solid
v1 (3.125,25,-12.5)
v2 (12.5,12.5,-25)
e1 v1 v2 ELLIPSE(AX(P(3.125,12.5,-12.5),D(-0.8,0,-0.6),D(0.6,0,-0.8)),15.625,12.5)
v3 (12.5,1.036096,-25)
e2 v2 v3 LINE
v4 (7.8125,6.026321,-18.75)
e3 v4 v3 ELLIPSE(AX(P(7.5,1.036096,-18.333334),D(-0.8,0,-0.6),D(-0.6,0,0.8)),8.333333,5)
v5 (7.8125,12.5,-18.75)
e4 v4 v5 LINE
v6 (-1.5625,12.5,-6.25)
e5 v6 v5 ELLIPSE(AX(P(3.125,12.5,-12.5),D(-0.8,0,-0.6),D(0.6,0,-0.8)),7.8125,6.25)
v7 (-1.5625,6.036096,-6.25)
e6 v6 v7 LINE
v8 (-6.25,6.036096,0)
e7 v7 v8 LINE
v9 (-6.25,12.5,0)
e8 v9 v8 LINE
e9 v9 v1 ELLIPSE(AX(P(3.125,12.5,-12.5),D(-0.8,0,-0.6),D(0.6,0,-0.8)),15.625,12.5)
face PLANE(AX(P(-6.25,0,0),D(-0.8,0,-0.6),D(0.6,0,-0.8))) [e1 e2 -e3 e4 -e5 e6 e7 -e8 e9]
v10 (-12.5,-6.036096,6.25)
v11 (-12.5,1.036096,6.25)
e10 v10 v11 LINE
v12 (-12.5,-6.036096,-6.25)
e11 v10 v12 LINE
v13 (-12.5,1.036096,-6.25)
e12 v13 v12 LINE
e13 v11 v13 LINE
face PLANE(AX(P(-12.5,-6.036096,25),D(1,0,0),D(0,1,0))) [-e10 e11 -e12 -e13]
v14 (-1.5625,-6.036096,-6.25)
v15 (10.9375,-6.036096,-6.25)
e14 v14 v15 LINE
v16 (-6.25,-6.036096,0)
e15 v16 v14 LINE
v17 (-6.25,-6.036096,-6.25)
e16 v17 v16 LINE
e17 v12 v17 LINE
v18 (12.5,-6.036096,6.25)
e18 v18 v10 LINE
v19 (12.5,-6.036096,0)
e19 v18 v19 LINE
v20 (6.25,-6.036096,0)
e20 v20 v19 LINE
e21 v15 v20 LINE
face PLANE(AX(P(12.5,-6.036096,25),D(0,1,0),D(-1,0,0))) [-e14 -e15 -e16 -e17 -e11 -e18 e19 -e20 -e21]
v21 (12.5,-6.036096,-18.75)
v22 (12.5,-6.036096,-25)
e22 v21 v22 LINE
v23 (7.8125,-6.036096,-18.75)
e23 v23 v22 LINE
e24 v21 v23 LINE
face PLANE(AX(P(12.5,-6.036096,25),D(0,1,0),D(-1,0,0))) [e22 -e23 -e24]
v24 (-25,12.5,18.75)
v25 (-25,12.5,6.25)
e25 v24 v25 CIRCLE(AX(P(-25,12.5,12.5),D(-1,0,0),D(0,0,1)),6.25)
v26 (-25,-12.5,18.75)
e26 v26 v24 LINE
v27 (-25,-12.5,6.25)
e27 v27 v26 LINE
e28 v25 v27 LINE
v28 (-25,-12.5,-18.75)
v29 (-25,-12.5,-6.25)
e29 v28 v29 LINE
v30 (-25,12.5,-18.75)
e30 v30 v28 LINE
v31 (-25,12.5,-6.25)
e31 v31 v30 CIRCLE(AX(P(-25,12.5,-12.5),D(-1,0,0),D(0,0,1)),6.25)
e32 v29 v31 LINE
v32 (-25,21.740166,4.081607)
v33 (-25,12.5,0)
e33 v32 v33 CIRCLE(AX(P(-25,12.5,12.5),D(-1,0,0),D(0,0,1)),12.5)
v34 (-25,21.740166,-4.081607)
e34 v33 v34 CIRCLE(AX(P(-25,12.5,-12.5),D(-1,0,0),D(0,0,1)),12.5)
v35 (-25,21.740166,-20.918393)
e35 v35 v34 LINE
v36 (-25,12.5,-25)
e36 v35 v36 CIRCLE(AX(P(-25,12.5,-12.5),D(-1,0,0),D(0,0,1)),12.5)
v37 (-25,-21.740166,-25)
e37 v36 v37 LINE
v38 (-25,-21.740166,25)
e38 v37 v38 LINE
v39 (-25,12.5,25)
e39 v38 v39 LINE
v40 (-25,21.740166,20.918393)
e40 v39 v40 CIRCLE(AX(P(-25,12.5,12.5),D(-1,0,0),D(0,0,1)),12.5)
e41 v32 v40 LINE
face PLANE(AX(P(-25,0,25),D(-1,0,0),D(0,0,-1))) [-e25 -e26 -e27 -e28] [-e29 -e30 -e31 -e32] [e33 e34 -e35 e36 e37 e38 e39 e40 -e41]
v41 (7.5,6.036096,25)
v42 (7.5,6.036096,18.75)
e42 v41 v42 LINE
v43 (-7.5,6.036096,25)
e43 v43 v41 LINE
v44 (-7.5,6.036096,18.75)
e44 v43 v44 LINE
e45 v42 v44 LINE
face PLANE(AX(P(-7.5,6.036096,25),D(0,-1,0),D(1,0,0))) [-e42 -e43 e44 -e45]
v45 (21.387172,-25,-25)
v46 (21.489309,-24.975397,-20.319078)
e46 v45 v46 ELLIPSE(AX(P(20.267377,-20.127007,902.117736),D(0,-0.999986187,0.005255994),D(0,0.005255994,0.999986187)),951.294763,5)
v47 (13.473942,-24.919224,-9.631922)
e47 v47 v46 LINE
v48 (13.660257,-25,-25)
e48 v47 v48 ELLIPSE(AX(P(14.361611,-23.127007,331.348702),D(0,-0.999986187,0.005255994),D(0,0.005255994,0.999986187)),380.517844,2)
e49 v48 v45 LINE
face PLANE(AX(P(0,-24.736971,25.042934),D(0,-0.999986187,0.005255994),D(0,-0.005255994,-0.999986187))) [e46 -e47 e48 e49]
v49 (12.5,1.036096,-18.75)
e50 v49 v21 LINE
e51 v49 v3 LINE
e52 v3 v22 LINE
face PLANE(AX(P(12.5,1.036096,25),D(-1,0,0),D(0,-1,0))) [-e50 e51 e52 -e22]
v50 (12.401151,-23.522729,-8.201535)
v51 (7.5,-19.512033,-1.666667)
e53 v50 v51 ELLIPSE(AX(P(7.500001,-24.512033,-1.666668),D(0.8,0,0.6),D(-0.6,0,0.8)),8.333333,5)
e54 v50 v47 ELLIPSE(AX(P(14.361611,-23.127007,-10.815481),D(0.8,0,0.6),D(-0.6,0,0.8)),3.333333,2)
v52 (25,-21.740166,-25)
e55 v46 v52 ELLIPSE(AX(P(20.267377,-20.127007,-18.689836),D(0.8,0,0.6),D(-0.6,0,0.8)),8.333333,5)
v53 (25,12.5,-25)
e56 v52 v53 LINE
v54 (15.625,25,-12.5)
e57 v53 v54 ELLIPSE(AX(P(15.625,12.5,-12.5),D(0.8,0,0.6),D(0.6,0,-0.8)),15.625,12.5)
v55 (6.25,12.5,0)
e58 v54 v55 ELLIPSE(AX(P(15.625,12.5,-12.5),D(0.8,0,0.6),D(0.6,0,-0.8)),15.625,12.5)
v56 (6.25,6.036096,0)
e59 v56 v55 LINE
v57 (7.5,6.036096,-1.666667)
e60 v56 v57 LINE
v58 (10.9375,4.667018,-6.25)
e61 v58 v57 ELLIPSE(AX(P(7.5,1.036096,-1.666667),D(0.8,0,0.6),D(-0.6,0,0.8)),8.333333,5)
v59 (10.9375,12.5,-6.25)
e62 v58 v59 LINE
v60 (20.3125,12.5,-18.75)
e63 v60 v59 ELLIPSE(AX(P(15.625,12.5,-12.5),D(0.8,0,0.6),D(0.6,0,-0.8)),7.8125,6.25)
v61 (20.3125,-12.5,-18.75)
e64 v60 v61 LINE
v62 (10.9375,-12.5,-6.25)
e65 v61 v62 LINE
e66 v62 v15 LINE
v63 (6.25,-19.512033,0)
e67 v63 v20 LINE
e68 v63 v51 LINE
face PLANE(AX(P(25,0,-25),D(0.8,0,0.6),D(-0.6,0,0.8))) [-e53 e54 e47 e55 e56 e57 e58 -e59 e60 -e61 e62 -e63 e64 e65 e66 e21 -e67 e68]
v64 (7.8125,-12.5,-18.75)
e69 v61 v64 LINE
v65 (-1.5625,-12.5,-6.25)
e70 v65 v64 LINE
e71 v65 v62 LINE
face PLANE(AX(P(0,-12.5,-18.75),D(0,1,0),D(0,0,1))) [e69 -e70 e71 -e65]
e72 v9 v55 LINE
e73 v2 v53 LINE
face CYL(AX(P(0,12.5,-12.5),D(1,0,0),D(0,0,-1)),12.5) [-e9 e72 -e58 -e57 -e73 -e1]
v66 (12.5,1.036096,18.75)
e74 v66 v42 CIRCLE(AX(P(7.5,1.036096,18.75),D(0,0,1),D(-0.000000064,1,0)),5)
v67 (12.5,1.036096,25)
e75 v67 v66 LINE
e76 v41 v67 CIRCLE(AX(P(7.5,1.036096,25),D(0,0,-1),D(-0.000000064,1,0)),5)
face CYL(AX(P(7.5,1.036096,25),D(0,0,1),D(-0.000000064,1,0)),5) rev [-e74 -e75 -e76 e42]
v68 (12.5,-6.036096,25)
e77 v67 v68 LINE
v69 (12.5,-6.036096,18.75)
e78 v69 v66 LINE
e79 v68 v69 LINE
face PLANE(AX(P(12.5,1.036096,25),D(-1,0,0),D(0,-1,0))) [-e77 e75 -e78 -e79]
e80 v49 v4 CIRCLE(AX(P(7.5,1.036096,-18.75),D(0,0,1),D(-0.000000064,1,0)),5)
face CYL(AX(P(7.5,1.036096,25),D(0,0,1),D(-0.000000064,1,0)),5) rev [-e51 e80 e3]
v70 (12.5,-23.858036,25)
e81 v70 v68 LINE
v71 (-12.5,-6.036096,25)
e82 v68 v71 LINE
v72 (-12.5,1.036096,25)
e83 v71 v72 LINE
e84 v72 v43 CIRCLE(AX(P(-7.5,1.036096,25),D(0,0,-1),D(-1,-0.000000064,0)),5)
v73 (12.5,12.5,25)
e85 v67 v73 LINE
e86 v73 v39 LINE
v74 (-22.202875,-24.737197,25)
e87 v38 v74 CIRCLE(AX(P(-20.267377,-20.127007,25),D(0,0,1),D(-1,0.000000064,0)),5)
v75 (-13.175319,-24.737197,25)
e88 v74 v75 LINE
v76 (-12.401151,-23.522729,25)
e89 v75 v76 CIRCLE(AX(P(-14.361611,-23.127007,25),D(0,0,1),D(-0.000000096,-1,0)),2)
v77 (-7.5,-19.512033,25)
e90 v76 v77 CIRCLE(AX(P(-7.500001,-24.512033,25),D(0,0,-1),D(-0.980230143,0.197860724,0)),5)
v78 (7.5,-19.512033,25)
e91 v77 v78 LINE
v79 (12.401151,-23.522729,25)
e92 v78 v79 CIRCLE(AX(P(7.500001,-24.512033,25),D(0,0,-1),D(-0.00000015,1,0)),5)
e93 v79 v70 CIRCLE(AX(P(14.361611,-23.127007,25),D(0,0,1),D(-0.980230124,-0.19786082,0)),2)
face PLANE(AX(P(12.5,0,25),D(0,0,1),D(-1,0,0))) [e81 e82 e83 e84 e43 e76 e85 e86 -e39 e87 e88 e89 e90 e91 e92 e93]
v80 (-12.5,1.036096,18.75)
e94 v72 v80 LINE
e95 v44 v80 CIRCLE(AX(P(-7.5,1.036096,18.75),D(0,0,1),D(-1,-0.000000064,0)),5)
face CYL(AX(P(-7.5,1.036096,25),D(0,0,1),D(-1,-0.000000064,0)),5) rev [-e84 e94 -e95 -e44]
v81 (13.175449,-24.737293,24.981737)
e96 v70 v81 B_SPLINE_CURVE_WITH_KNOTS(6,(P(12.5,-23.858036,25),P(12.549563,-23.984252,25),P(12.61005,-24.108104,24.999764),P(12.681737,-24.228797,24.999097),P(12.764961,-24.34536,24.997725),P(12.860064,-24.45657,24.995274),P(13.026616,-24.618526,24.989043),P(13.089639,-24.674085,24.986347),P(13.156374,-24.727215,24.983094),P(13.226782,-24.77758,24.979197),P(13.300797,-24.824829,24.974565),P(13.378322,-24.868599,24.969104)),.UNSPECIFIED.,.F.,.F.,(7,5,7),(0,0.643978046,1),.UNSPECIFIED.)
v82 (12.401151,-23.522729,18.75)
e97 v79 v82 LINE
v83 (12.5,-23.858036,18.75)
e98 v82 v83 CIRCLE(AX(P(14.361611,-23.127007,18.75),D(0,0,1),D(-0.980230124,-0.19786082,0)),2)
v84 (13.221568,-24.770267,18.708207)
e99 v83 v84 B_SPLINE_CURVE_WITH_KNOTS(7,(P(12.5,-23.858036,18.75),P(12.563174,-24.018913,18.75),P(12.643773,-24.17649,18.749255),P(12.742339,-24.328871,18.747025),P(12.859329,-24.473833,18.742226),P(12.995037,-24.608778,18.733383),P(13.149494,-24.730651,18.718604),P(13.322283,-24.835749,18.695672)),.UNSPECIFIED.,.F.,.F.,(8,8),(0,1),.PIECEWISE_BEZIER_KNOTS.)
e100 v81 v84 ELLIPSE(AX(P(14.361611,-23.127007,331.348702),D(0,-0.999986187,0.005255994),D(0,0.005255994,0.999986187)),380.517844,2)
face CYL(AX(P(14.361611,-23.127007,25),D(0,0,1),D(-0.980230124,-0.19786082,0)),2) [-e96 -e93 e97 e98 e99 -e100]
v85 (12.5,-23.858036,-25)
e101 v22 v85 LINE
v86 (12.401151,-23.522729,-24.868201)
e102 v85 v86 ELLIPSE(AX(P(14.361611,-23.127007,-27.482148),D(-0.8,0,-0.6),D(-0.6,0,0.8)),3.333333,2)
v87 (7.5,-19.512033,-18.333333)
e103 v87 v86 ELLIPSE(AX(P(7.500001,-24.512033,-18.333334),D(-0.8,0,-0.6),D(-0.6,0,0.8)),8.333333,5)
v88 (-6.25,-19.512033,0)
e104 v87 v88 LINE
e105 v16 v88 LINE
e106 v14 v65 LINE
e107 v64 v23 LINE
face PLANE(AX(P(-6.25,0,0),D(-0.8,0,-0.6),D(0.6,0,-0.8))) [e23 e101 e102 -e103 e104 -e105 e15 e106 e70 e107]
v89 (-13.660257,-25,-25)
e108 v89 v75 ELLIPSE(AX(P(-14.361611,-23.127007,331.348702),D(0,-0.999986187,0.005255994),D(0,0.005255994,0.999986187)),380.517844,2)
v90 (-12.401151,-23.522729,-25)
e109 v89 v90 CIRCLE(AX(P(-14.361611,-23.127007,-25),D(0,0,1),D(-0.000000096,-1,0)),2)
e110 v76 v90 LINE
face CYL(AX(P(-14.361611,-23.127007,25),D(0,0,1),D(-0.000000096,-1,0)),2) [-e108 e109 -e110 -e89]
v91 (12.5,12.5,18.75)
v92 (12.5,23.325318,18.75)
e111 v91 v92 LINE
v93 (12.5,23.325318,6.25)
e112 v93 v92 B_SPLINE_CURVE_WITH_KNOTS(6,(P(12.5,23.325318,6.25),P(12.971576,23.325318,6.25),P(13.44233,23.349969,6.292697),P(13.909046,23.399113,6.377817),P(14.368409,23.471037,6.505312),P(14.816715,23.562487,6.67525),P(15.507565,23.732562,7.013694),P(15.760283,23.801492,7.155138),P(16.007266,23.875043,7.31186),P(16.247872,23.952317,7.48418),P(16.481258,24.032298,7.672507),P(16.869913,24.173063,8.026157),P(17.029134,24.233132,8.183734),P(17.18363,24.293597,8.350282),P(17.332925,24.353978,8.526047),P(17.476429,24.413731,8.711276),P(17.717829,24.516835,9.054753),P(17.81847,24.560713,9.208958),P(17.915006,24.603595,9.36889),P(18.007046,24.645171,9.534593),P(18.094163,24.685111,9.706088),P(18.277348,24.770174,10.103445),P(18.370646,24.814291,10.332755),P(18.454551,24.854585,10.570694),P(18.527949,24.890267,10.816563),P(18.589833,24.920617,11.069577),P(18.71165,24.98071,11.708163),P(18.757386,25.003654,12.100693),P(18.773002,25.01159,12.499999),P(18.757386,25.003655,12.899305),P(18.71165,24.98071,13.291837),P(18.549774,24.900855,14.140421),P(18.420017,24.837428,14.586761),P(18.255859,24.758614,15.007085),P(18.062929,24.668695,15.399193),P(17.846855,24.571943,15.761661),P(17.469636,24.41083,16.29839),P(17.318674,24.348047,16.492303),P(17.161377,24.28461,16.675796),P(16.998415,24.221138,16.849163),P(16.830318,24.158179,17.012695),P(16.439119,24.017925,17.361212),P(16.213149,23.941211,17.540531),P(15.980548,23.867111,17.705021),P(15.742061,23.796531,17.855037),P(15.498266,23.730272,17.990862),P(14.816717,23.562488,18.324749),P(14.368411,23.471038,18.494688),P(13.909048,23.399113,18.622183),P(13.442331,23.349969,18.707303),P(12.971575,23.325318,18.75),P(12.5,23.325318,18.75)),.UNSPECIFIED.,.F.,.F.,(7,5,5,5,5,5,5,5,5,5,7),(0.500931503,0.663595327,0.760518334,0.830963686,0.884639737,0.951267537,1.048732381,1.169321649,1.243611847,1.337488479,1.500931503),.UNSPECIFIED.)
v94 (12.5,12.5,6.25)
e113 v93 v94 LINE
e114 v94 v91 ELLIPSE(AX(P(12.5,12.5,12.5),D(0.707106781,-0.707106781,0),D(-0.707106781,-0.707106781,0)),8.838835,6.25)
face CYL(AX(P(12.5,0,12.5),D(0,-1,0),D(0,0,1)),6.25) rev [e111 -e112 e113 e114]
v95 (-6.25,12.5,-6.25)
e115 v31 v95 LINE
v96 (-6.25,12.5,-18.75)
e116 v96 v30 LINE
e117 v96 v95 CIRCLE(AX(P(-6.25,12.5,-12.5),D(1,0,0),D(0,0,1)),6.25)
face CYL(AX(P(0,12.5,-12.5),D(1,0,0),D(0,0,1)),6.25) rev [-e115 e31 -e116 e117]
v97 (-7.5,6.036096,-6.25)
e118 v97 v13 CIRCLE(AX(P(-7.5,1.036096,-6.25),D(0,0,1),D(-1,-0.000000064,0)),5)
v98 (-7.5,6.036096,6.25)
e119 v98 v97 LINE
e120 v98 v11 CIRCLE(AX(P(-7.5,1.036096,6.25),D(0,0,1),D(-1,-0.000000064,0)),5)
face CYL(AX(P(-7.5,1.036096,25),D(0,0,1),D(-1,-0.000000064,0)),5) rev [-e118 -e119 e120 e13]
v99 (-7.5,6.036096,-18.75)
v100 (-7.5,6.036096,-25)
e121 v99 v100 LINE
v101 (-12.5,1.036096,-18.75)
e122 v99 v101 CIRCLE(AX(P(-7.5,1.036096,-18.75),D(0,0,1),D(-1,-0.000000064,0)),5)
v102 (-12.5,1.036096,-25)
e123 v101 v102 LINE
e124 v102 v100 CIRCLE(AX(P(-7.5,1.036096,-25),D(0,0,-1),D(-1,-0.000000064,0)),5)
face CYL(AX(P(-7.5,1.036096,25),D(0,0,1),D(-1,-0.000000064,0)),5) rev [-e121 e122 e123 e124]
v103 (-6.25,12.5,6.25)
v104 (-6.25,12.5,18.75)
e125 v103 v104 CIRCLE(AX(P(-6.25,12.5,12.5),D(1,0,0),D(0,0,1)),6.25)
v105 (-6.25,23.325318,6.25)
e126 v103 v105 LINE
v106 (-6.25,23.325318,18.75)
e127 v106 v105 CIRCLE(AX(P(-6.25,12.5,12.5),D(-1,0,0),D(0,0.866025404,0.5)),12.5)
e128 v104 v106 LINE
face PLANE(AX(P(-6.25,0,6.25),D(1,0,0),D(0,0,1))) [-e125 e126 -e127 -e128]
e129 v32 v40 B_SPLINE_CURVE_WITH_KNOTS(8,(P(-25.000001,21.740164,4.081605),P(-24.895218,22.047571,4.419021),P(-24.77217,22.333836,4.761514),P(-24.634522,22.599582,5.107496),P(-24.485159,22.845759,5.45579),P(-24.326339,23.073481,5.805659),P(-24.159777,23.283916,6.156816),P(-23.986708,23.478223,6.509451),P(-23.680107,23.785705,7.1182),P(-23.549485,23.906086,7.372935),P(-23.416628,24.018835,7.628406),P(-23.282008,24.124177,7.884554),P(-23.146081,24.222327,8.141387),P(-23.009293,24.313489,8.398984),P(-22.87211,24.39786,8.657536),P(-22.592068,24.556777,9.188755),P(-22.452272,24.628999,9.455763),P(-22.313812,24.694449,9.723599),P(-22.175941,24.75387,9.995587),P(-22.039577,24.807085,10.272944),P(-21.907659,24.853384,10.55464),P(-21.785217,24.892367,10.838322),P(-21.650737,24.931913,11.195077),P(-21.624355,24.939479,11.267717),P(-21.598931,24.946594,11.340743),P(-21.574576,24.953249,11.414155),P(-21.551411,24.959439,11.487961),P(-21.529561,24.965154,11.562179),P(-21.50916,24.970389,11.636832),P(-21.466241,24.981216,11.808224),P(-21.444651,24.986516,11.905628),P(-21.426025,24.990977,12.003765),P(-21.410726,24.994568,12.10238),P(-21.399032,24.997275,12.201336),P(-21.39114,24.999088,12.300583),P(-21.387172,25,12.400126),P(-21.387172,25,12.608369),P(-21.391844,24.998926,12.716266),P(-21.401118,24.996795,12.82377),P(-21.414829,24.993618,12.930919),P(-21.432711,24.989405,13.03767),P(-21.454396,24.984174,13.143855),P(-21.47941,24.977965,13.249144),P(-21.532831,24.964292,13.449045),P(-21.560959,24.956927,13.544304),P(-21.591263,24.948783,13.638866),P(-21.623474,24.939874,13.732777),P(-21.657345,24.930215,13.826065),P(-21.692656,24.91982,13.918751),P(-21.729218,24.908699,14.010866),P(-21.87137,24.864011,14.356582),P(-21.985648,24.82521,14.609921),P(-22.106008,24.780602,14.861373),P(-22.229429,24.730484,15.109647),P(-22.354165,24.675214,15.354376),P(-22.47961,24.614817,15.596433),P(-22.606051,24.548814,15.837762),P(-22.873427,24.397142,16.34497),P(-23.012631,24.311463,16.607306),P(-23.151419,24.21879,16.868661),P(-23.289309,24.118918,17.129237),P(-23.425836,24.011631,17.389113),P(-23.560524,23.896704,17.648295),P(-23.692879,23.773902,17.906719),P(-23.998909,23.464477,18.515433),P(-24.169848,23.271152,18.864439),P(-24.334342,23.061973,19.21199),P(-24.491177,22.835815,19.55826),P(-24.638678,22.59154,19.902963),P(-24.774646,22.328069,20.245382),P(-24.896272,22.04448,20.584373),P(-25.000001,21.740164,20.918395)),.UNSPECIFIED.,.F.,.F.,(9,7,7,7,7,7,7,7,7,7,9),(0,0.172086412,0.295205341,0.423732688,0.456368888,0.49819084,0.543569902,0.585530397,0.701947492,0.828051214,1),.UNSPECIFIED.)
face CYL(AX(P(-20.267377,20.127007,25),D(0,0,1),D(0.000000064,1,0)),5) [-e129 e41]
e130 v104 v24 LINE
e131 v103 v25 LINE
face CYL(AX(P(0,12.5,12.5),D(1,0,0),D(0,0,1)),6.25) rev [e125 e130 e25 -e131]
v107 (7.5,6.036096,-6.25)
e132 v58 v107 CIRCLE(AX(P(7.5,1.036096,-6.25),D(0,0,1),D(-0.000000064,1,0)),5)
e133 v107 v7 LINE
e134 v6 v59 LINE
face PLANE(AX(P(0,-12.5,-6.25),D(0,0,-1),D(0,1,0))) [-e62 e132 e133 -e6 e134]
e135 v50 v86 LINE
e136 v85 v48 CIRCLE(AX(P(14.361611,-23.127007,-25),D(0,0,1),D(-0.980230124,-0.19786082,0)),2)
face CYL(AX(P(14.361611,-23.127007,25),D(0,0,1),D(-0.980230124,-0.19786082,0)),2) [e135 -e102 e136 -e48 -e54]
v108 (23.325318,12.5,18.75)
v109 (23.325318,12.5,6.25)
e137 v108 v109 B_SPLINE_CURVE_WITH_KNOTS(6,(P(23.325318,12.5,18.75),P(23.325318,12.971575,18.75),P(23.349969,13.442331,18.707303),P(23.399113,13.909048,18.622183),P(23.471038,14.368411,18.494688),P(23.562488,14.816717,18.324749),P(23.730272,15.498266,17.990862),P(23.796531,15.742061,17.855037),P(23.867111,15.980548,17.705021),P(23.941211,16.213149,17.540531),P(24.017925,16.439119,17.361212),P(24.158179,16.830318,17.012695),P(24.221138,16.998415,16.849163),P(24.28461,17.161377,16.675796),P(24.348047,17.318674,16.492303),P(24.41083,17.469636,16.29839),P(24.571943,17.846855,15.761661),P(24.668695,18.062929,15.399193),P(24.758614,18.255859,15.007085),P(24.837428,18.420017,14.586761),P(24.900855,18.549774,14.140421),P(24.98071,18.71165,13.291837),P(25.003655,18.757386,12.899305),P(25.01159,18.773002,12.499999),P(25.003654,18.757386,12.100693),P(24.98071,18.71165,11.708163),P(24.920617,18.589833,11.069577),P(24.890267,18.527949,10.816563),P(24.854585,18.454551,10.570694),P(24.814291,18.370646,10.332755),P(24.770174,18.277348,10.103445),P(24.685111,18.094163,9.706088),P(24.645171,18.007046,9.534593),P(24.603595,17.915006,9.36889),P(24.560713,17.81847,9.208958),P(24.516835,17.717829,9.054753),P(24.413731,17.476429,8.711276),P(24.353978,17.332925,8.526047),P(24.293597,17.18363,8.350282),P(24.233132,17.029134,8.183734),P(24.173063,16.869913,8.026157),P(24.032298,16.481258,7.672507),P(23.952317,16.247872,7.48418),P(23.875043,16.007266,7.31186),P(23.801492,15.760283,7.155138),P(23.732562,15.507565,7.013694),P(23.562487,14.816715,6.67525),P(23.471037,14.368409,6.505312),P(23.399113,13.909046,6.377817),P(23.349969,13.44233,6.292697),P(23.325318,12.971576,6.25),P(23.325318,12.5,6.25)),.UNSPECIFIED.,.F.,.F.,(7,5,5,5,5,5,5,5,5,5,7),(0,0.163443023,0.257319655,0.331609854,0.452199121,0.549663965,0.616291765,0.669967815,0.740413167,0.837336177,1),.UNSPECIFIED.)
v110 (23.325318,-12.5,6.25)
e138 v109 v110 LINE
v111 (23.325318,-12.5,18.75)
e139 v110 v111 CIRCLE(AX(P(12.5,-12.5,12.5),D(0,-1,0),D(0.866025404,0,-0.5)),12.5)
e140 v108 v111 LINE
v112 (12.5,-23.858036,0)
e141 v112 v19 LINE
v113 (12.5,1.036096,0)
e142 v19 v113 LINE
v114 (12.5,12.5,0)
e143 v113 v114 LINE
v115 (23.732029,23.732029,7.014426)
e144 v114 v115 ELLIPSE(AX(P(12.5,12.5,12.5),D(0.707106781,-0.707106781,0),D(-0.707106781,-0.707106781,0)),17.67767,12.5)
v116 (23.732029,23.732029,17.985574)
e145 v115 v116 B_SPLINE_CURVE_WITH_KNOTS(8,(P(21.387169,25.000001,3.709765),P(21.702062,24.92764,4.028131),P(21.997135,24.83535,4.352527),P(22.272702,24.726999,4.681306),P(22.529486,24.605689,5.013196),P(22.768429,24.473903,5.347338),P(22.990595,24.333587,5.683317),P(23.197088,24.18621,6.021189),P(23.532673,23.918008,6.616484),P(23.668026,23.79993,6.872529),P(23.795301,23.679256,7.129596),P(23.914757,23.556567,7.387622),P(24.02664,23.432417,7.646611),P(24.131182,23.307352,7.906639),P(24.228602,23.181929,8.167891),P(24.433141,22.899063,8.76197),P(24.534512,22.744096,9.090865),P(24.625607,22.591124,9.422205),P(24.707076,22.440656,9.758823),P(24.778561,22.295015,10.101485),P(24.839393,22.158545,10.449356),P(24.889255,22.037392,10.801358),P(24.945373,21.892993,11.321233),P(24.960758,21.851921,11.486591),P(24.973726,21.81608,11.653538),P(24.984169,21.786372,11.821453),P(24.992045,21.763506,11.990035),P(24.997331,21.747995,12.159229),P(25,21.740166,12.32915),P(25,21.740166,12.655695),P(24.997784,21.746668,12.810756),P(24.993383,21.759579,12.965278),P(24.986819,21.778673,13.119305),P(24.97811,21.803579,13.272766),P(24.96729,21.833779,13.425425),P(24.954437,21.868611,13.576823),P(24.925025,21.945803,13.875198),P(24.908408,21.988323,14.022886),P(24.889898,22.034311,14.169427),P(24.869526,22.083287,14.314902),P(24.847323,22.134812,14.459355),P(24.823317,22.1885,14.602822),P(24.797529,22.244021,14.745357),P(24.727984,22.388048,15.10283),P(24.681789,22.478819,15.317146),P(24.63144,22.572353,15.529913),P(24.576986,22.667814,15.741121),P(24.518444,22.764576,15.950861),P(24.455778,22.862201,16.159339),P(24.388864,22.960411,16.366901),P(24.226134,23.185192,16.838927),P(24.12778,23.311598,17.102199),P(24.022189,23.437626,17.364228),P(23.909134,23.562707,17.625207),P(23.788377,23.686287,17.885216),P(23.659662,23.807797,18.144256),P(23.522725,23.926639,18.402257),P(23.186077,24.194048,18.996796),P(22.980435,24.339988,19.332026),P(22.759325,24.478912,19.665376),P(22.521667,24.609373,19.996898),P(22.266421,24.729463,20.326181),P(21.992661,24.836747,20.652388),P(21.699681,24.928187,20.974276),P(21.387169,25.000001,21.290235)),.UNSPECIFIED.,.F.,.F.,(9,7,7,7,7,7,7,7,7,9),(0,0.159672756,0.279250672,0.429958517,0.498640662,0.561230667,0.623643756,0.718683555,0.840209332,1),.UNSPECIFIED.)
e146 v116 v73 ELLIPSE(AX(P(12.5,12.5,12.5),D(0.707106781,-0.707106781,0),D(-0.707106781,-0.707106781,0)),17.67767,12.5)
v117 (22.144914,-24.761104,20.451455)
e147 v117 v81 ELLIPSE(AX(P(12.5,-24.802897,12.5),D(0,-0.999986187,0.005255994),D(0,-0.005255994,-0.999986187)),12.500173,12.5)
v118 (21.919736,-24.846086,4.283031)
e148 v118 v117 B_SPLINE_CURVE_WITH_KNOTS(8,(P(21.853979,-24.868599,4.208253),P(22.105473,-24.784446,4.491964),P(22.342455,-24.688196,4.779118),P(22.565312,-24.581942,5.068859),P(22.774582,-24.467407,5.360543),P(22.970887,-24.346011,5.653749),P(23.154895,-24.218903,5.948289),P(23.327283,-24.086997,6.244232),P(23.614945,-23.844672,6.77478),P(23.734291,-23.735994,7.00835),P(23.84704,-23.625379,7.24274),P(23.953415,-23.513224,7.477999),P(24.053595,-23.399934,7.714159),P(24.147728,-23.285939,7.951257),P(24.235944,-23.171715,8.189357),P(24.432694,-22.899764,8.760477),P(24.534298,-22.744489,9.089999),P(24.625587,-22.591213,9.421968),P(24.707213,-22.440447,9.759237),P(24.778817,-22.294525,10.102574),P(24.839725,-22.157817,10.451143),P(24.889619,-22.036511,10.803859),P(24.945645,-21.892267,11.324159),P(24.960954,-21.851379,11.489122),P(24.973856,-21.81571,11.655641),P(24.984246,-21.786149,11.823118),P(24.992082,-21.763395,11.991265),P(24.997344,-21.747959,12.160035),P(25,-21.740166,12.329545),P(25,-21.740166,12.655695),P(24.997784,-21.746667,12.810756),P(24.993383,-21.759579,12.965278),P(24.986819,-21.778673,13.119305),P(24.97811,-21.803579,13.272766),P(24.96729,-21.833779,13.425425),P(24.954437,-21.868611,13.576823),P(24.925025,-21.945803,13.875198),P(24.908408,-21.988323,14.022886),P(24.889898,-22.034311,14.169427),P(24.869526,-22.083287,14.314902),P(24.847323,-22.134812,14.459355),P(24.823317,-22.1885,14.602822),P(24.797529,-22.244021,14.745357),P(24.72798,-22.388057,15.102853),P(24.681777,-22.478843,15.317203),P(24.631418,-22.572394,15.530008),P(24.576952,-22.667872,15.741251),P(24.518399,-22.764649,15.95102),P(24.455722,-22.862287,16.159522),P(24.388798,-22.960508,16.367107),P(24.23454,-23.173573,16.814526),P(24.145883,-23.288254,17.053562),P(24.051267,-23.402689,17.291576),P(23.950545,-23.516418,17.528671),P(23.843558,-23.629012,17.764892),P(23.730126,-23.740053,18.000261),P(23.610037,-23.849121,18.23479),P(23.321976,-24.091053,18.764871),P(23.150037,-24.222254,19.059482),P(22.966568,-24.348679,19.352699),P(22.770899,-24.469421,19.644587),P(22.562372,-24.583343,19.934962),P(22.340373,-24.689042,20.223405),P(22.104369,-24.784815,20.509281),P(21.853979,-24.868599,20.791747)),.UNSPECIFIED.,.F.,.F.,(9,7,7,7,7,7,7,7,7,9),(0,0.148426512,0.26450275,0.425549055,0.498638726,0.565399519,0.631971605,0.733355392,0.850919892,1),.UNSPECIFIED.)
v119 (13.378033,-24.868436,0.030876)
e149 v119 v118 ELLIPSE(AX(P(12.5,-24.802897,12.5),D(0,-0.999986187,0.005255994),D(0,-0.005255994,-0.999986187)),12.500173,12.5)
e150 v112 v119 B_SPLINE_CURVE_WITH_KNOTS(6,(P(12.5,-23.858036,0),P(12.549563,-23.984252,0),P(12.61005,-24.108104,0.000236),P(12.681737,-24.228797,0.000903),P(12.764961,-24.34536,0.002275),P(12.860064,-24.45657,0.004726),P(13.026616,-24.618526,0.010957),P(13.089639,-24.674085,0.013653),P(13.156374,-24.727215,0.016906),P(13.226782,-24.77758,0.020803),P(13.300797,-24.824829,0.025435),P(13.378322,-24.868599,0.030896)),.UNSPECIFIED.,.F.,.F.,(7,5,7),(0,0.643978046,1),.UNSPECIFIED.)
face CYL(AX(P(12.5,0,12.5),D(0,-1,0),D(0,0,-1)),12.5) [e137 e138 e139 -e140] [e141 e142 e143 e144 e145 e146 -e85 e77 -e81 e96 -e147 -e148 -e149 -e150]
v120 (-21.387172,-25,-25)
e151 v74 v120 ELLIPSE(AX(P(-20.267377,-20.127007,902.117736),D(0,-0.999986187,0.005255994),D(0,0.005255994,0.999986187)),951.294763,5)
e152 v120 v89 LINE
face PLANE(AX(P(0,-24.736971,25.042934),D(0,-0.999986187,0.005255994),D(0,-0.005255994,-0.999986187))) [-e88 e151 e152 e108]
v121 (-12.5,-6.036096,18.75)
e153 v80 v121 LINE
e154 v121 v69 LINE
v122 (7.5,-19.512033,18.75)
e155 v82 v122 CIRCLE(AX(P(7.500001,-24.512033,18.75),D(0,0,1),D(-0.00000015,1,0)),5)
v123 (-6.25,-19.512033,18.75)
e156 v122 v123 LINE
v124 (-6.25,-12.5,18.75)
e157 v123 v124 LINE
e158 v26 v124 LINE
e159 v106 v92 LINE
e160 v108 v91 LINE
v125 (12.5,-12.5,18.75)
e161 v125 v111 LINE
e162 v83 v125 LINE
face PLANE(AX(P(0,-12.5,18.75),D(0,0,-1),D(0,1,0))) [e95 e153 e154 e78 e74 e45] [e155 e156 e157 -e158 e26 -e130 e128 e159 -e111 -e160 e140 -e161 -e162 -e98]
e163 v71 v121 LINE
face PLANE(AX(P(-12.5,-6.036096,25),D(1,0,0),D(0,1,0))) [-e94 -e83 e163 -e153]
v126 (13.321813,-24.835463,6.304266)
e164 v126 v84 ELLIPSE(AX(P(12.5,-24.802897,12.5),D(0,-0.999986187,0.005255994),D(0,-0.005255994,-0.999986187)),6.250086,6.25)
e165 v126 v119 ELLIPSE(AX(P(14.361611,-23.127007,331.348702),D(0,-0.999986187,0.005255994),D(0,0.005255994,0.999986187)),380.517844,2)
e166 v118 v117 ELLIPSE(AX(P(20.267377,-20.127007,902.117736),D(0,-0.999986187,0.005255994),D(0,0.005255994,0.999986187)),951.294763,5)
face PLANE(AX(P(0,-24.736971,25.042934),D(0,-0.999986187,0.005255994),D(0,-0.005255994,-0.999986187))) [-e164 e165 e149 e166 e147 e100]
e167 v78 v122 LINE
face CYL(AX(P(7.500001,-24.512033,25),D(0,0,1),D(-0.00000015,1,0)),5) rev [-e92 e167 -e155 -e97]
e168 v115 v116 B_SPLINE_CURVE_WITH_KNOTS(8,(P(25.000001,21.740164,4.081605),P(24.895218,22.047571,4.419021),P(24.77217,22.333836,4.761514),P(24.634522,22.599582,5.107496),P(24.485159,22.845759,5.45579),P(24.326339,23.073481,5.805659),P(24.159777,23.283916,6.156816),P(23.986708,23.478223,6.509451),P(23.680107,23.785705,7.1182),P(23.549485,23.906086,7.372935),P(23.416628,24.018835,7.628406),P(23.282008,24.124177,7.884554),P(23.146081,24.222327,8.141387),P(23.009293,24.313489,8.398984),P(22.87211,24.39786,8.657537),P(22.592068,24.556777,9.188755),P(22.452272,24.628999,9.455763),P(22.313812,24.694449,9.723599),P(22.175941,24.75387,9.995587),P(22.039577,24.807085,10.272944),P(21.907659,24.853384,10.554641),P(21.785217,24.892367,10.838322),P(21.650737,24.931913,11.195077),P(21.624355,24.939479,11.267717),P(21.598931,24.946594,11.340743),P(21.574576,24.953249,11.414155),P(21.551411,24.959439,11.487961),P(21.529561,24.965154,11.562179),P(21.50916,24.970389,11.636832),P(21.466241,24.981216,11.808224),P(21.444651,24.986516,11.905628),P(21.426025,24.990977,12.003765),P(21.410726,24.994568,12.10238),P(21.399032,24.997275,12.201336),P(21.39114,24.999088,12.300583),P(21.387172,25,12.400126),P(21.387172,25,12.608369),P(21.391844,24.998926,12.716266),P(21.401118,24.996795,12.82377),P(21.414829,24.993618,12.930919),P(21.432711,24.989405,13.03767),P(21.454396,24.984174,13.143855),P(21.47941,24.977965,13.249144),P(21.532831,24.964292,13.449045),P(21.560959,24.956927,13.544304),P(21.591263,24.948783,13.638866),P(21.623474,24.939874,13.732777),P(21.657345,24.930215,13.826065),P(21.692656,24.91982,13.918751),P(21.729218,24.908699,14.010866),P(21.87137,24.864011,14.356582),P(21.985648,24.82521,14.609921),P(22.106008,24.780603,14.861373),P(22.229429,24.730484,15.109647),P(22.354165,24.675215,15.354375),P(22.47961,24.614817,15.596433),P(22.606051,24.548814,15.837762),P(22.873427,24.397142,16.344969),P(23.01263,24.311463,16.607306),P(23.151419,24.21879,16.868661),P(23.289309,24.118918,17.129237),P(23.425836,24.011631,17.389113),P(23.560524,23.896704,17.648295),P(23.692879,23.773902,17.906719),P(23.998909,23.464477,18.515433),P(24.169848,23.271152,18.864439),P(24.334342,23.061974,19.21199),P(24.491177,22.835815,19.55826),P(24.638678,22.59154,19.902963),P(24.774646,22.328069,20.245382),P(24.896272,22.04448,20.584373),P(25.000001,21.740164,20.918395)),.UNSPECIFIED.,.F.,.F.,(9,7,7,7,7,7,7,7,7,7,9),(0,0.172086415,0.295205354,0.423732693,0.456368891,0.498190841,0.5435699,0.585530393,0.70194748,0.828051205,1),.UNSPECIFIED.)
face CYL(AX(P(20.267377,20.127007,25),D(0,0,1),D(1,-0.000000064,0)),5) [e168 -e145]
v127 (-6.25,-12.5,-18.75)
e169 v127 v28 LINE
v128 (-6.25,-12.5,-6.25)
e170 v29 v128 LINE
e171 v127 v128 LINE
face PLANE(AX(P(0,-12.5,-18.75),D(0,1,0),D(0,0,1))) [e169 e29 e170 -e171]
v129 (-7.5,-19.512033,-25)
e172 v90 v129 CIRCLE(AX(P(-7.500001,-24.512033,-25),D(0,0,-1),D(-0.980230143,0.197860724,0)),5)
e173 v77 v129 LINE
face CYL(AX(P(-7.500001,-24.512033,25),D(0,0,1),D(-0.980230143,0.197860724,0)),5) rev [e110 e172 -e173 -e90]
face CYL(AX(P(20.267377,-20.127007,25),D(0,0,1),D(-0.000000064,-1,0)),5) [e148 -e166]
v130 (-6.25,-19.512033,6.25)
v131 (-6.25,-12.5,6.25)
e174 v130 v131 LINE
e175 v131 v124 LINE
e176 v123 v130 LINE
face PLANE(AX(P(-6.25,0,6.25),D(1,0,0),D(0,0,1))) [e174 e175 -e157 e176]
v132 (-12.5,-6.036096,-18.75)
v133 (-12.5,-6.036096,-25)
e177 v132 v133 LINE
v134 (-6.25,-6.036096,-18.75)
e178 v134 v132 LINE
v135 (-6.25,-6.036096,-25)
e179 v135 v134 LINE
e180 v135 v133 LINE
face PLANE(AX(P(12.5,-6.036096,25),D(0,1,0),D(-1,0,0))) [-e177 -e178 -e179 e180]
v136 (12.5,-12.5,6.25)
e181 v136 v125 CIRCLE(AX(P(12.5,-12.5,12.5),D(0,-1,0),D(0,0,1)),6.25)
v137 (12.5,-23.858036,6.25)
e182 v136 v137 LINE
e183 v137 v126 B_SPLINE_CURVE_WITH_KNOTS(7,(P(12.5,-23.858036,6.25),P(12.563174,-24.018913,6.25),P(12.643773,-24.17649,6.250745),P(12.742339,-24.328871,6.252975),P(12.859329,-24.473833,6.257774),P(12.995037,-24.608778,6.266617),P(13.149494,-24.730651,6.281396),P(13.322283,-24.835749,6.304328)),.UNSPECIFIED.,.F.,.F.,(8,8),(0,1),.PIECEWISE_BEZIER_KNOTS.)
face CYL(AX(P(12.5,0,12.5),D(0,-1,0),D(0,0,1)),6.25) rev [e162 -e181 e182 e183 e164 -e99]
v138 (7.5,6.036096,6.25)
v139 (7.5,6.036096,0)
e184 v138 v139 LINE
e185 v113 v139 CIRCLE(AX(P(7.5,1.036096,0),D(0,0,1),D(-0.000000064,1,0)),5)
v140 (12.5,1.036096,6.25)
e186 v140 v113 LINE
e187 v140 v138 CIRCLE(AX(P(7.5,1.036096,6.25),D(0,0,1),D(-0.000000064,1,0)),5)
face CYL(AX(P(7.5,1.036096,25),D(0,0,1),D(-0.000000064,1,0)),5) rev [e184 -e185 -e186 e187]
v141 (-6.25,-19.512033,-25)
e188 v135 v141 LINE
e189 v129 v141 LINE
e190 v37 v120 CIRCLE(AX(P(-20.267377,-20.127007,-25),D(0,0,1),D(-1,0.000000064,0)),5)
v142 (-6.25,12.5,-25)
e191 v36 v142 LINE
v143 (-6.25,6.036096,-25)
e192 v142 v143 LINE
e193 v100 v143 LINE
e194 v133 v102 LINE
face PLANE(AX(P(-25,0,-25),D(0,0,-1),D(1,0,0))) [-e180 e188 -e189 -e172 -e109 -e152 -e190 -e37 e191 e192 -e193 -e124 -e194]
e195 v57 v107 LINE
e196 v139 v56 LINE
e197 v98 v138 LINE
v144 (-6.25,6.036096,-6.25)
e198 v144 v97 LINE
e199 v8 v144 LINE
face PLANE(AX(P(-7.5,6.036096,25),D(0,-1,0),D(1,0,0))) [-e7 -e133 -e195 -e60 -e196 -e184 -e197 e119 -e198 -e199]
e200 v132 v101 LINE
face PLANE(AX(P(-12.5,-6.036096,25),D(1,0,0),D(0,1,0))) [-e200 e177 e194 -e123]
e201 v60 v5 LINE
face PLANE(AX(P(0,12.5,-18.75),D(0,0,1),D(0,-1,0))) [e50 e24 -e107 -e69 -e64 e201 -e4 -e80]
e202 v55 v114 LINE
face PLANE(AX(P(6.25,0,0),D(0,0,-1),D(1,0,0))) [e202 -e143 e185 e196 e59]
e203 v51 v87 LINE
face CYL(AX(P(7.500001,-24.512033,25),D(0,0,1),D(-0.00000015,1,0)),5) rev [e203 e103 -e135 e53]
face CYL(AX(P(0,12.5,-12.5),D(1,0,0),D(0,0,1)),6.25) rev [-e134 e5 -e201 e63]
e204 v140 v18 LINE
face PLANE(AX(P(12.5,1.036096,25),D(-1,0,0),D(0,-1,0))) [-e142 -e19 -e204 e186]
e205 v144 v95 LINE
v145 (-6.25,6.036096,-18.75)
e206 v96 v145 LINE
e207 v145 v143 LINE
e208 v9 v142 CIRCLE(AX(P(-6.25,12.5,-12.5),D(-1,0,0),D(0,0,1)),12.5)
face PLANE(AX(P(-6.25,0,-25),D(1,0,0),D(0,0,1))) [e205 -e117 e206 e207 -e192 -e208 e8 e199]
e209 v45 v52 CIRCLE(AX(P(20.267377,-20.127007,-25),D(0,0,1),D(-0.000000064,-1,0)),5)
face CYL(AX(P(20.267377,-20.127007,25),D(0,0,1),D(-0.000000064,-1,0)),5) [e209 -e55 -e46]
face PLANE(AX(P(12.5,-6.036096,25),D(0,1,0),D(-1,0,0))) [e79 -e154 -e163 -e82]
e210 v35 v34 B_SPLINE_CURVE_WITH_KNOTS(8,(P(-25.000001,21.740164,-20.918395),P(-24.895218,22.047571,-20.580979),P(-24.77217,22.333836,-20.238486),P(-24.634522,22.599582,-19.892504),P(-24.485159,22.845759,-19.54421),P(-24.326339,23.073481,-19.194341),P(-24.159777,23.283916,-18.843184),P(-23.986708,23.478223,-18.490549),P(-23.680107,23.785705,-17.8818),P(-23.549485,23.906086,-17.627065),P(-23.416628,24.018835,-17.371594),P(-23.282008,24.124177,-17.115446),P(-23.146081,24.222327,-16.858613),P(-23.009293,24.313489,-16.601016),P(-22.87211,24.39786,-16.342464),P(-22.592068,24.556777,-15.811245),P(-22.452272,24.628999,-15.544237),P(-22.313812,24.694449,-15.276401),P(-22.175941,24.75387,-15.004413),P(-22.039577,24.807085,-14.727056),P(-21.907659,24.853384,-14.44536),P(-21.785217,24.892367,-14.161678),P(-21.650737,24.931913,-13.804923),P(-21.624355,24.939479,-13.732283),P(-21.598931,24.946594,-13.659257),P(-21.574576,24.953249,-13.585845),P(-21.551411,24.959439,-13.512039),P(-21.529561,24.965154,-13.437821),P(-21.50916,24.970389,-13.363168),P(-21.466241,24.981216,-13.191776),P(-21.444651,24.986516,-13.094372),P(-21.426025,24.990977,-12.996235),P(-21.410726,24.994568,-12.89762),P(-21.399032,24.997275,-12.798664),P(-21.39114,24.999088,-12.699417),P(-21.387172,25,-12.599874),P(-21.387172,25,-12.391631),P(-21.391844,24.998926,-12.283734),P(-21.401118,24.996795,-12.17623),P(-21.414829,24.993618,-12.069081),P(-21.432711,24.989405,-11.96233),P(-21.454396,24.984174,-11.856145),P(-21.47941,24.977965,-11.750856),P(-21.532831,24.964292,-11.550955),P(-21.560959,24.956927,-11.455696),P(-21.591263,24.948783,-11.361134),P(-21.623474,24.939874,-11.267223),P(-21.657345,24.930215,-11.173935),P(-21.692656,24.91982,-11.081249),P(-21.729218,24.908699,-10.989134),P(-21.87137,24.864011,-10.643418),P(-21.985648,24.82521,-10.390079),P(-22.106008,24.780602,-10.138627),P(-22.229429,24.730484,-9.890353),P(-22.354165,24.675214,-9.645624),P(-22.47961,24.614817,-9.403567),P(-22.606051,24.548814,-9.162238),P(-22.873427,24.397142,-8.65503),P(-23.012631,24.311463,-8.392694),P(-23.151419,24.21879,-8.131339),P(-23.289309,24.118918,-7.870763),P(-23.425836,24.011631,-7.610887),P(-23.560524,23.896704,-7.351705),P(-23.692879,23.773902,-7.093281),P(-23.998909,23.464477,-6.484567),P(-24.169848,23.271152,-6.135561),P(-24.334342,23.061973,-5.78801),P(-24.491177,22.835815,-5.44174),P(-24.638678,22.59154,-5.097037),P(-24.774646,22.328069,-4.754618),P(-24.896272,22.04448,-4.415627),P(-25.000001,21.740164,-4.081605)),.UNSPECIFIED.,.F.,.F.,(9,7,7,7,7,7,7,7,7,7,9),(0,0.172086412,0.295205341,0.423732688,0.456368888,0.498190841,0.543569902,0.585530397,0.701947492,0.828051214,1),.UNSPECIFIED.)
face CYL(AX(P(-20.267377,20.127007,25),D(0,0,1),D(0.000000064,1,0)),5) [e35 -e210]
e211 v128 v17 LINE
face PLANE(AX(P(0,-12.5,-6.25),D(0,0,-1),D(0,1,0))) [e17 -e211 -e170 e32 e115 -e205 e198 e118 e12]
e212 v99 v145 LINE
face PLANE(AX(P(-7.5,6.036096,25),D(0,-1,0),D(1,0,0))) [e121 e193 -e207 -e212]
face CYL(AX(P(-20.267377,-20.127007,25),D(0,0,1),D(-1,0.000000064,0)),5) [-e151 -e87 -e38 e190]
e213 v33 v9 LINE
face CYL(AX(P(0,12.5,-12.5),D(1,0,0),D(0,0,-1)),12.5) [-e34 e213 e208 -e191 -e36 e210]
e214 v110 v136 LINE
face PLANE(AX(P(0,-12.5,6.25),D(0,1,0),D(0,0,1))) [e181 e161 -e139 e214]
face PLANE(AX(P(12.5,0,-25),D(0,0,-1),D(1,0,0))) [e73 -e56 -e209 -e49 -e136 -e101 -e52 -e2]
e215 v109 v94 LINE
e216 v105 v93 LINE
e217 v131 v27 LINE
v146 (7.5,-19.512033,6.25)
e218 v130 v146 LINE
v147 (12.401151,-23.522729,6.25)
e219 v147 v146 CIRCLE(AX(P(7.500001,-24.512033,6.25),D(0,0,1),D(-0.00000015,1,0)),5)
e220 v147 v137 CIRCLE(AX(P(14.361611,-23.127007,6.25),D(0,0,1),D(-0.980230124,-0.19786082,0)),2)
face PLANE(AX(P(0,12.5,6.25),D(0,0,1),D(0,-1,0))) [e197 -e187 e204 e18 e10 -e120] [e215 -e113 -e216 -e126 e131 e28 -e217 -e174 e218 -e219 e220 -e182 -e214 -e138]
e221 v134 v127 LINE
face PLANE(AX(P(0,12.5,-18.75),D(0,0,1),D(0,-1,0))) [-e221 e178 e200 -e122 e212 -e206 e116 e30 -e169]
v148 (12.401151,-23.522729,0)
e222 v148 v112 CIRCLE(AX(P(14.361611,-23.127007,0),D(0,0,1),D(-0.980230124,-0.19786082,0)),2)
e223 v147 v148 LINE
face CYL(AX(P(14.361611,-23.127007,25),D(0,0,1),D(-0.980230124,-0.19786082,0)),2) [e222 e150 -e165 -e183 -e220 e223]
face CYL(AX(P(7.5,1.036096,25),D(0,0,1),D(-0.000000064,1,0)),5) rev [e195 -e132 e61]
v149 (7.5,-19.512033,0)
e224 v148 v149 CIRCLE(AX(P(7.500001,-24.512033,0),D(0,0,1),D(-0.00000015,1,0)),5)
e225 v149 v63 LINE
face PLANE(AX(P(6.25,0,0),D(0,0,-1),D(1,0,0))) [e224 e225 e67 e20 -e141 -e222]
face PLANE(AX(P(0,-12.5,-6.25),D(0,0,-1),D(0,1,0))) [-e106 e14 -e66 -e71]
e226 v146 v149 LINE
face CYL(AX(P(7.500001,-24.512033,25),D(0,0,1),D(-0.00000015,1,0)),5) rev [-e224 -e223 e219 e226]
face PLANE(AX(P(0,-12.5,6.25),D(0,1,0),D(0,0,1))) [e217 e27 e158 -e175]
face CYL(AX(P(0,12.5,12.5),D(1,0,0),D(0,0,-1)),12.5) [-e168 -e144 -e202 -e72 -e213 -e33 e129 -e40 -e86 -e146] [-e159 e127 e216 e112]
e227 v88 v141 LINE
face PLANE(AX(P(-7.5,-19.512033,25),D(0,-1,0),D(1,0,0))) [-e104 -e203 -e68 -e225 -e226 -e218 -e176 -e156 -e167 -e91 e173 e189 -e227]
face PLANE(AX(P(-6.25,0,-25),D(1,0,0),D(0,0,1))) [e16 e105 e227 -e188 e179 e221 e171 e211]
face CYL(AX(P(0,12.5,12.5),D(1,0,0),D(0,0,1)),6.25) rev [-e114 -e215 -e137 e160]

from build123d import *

# Parameters (mm, degrees)
F2_DEPTH = 25
F3_DEPTH = 25
F5_DEPTH = 50


with BuildPart() as f2:
    # F0 (on Front) → F2 (new body, symmetric)
    with BuildSketch(Plane.XZ):
        with BuildLine():
            Line((-25, 25), (-25, -25))
            Line((-25, -25), (-6.25, -25))
            Line((-6.25, -25), (-6.25, 0))
            Line((-6.25, 0), (12.5, -25))
            Line((12.5, -25), (25, -25))
            Line((25, -25), (6.25, 0))
            Line((6.25, 0), (12.5, 0))
            ThreePointArc((12.5, 0), (25, 12.5), (12.5, 25))
            Line((12.5, 25), (-25, 25))
        make_face()
        with BuildLine():
            Line((12.5, 6.25), (-6.25, 6.25))
            Line((-6.25, 6.25), (-6.25, 18.75))
            Line((-6.25, 18.75), (12.5, 18.75))
            ThreePointArc((12.5, 18.75), (18.75, 12.5), (12.5, 6.25))
        make_face(mode=Mode.SUBTRACT)
    extrude(amount=F2_DEPTH, both=True)

    # F1 (on Right) → F3 (intersect, symmetric)
    with BuildSketch(Plane.YZ):
        with BuildLine():
            Line((-25, -25), (12.5, -25))
            ThreePointArc((12.5, -25), (25, -12.5), (12.5, 0))
            ThreePointArc((12.5, 0), (25, 12.5), (12.5, 25))
            Line((12.5, 25), (-24.736971, 25.042934))
            Line((-24.736971, 25.042934), (-25, -25))
        make_face()
        with BuildLine():
            Line((-12.5, -6.25), (12.5, -6.25))
            ThreePointArc((12.5, -6.25), (18.75, -12.5), (12.5, -18.75))
            Line((12.5, -18.75), (-12.5, -18.75))
            Line((-12.5, -18.75), (-12.5, -6.25))
        make_face(mode=Mode.SUBTRACT)
        with BuildLine():
            Line((-12.5, 18.75), (12.5, 18.75))
            ThreePointArc((12.5, 18.75), (18.75, 12.5), (12.5, 6.25))
            Line((12.5, 6.25), (-12.5, 6.25))
            Line((-12.5, 6.25), (-12.5, 18.75))
        make_face(mode=Mode.SUBTRACT)
    extrude(amount=F3_DEPTH, both=True, mode=Mode.INTERSECT)

    # F4 (on face) → F5 (intersect)
    with BuildSketch(Plane.XY.offset(25)):
        with BuildLine():
            ThreePointArc((25.267377, 20.127007), (23.802911, 23.662541), (20.267377, 25.127007))
            Line((20.267377, 25.127007), (-20.267377, 25.127007))
            ThreePointArc((-20.267377, 25.127007), (-23.802911, 23.662541), (-25.267377, 20.127007))
            Line((-25.267377, 20.127007), (-25.267377, -20.127007))
            ThreePointArc((-25.267377, -20.127007), (-23.802911, -23.662541), (-20.267377, -25.127007))
            Line((-20.267377, -25.127007), (-14.361611, -25.127007))
            ThreePointArc((-14.361611, -25.127007), (-13.09501, -24.674819), (-12.401151, -23.522729))
            ThreePointArc((-12.401151, -23.522729), (-10.666503, -20.642503), (-7.5, -19.512033))
            Line((-7.5, -19.512033), (7.5, -19.512033))
            ThreePointArc((7.5, -19.512033), (10.666503, -20.642503), (12.401151, -23.522729))
            ThreePointArc((12.401151, -23.522729), (13.09501, -24.674819), (14.361611, -25.127007))
            Line((14.361611, -25.127007), (20.267377, -25.127007))
            ThreePointArc((20.267377, -25.127007), (23.802911, -23.662541), (25.267377, -20.127007))
            Line((25.267377, -20.127007), (25.267377, 20.127007))
        make_face()
        with BuildLine():
            Line((-7.5, 6.036096), (7.5, 6.036096))
            ThreePointArc((7.5, 6.036096), (11.035534, 4.57163), (12.5, 1.036096))
            Line((12.5, 1.036096), (12.5, -6.036096))
            Line((12.5, -6.036096), (-12.5, -6.036096))
            Line((-12.5, -6.036096), (-12.5, 1.036096))
            ThreePointArc((-12.5, 1.036096), (-11.035534, 4.57163), (-7.5, 6.036096))
        make_face(mode=Mode.SUBTRACT)
    extrude(amount=-F5_DEPTH, mode=Mode.INTERSECT)


solid = f2.part
